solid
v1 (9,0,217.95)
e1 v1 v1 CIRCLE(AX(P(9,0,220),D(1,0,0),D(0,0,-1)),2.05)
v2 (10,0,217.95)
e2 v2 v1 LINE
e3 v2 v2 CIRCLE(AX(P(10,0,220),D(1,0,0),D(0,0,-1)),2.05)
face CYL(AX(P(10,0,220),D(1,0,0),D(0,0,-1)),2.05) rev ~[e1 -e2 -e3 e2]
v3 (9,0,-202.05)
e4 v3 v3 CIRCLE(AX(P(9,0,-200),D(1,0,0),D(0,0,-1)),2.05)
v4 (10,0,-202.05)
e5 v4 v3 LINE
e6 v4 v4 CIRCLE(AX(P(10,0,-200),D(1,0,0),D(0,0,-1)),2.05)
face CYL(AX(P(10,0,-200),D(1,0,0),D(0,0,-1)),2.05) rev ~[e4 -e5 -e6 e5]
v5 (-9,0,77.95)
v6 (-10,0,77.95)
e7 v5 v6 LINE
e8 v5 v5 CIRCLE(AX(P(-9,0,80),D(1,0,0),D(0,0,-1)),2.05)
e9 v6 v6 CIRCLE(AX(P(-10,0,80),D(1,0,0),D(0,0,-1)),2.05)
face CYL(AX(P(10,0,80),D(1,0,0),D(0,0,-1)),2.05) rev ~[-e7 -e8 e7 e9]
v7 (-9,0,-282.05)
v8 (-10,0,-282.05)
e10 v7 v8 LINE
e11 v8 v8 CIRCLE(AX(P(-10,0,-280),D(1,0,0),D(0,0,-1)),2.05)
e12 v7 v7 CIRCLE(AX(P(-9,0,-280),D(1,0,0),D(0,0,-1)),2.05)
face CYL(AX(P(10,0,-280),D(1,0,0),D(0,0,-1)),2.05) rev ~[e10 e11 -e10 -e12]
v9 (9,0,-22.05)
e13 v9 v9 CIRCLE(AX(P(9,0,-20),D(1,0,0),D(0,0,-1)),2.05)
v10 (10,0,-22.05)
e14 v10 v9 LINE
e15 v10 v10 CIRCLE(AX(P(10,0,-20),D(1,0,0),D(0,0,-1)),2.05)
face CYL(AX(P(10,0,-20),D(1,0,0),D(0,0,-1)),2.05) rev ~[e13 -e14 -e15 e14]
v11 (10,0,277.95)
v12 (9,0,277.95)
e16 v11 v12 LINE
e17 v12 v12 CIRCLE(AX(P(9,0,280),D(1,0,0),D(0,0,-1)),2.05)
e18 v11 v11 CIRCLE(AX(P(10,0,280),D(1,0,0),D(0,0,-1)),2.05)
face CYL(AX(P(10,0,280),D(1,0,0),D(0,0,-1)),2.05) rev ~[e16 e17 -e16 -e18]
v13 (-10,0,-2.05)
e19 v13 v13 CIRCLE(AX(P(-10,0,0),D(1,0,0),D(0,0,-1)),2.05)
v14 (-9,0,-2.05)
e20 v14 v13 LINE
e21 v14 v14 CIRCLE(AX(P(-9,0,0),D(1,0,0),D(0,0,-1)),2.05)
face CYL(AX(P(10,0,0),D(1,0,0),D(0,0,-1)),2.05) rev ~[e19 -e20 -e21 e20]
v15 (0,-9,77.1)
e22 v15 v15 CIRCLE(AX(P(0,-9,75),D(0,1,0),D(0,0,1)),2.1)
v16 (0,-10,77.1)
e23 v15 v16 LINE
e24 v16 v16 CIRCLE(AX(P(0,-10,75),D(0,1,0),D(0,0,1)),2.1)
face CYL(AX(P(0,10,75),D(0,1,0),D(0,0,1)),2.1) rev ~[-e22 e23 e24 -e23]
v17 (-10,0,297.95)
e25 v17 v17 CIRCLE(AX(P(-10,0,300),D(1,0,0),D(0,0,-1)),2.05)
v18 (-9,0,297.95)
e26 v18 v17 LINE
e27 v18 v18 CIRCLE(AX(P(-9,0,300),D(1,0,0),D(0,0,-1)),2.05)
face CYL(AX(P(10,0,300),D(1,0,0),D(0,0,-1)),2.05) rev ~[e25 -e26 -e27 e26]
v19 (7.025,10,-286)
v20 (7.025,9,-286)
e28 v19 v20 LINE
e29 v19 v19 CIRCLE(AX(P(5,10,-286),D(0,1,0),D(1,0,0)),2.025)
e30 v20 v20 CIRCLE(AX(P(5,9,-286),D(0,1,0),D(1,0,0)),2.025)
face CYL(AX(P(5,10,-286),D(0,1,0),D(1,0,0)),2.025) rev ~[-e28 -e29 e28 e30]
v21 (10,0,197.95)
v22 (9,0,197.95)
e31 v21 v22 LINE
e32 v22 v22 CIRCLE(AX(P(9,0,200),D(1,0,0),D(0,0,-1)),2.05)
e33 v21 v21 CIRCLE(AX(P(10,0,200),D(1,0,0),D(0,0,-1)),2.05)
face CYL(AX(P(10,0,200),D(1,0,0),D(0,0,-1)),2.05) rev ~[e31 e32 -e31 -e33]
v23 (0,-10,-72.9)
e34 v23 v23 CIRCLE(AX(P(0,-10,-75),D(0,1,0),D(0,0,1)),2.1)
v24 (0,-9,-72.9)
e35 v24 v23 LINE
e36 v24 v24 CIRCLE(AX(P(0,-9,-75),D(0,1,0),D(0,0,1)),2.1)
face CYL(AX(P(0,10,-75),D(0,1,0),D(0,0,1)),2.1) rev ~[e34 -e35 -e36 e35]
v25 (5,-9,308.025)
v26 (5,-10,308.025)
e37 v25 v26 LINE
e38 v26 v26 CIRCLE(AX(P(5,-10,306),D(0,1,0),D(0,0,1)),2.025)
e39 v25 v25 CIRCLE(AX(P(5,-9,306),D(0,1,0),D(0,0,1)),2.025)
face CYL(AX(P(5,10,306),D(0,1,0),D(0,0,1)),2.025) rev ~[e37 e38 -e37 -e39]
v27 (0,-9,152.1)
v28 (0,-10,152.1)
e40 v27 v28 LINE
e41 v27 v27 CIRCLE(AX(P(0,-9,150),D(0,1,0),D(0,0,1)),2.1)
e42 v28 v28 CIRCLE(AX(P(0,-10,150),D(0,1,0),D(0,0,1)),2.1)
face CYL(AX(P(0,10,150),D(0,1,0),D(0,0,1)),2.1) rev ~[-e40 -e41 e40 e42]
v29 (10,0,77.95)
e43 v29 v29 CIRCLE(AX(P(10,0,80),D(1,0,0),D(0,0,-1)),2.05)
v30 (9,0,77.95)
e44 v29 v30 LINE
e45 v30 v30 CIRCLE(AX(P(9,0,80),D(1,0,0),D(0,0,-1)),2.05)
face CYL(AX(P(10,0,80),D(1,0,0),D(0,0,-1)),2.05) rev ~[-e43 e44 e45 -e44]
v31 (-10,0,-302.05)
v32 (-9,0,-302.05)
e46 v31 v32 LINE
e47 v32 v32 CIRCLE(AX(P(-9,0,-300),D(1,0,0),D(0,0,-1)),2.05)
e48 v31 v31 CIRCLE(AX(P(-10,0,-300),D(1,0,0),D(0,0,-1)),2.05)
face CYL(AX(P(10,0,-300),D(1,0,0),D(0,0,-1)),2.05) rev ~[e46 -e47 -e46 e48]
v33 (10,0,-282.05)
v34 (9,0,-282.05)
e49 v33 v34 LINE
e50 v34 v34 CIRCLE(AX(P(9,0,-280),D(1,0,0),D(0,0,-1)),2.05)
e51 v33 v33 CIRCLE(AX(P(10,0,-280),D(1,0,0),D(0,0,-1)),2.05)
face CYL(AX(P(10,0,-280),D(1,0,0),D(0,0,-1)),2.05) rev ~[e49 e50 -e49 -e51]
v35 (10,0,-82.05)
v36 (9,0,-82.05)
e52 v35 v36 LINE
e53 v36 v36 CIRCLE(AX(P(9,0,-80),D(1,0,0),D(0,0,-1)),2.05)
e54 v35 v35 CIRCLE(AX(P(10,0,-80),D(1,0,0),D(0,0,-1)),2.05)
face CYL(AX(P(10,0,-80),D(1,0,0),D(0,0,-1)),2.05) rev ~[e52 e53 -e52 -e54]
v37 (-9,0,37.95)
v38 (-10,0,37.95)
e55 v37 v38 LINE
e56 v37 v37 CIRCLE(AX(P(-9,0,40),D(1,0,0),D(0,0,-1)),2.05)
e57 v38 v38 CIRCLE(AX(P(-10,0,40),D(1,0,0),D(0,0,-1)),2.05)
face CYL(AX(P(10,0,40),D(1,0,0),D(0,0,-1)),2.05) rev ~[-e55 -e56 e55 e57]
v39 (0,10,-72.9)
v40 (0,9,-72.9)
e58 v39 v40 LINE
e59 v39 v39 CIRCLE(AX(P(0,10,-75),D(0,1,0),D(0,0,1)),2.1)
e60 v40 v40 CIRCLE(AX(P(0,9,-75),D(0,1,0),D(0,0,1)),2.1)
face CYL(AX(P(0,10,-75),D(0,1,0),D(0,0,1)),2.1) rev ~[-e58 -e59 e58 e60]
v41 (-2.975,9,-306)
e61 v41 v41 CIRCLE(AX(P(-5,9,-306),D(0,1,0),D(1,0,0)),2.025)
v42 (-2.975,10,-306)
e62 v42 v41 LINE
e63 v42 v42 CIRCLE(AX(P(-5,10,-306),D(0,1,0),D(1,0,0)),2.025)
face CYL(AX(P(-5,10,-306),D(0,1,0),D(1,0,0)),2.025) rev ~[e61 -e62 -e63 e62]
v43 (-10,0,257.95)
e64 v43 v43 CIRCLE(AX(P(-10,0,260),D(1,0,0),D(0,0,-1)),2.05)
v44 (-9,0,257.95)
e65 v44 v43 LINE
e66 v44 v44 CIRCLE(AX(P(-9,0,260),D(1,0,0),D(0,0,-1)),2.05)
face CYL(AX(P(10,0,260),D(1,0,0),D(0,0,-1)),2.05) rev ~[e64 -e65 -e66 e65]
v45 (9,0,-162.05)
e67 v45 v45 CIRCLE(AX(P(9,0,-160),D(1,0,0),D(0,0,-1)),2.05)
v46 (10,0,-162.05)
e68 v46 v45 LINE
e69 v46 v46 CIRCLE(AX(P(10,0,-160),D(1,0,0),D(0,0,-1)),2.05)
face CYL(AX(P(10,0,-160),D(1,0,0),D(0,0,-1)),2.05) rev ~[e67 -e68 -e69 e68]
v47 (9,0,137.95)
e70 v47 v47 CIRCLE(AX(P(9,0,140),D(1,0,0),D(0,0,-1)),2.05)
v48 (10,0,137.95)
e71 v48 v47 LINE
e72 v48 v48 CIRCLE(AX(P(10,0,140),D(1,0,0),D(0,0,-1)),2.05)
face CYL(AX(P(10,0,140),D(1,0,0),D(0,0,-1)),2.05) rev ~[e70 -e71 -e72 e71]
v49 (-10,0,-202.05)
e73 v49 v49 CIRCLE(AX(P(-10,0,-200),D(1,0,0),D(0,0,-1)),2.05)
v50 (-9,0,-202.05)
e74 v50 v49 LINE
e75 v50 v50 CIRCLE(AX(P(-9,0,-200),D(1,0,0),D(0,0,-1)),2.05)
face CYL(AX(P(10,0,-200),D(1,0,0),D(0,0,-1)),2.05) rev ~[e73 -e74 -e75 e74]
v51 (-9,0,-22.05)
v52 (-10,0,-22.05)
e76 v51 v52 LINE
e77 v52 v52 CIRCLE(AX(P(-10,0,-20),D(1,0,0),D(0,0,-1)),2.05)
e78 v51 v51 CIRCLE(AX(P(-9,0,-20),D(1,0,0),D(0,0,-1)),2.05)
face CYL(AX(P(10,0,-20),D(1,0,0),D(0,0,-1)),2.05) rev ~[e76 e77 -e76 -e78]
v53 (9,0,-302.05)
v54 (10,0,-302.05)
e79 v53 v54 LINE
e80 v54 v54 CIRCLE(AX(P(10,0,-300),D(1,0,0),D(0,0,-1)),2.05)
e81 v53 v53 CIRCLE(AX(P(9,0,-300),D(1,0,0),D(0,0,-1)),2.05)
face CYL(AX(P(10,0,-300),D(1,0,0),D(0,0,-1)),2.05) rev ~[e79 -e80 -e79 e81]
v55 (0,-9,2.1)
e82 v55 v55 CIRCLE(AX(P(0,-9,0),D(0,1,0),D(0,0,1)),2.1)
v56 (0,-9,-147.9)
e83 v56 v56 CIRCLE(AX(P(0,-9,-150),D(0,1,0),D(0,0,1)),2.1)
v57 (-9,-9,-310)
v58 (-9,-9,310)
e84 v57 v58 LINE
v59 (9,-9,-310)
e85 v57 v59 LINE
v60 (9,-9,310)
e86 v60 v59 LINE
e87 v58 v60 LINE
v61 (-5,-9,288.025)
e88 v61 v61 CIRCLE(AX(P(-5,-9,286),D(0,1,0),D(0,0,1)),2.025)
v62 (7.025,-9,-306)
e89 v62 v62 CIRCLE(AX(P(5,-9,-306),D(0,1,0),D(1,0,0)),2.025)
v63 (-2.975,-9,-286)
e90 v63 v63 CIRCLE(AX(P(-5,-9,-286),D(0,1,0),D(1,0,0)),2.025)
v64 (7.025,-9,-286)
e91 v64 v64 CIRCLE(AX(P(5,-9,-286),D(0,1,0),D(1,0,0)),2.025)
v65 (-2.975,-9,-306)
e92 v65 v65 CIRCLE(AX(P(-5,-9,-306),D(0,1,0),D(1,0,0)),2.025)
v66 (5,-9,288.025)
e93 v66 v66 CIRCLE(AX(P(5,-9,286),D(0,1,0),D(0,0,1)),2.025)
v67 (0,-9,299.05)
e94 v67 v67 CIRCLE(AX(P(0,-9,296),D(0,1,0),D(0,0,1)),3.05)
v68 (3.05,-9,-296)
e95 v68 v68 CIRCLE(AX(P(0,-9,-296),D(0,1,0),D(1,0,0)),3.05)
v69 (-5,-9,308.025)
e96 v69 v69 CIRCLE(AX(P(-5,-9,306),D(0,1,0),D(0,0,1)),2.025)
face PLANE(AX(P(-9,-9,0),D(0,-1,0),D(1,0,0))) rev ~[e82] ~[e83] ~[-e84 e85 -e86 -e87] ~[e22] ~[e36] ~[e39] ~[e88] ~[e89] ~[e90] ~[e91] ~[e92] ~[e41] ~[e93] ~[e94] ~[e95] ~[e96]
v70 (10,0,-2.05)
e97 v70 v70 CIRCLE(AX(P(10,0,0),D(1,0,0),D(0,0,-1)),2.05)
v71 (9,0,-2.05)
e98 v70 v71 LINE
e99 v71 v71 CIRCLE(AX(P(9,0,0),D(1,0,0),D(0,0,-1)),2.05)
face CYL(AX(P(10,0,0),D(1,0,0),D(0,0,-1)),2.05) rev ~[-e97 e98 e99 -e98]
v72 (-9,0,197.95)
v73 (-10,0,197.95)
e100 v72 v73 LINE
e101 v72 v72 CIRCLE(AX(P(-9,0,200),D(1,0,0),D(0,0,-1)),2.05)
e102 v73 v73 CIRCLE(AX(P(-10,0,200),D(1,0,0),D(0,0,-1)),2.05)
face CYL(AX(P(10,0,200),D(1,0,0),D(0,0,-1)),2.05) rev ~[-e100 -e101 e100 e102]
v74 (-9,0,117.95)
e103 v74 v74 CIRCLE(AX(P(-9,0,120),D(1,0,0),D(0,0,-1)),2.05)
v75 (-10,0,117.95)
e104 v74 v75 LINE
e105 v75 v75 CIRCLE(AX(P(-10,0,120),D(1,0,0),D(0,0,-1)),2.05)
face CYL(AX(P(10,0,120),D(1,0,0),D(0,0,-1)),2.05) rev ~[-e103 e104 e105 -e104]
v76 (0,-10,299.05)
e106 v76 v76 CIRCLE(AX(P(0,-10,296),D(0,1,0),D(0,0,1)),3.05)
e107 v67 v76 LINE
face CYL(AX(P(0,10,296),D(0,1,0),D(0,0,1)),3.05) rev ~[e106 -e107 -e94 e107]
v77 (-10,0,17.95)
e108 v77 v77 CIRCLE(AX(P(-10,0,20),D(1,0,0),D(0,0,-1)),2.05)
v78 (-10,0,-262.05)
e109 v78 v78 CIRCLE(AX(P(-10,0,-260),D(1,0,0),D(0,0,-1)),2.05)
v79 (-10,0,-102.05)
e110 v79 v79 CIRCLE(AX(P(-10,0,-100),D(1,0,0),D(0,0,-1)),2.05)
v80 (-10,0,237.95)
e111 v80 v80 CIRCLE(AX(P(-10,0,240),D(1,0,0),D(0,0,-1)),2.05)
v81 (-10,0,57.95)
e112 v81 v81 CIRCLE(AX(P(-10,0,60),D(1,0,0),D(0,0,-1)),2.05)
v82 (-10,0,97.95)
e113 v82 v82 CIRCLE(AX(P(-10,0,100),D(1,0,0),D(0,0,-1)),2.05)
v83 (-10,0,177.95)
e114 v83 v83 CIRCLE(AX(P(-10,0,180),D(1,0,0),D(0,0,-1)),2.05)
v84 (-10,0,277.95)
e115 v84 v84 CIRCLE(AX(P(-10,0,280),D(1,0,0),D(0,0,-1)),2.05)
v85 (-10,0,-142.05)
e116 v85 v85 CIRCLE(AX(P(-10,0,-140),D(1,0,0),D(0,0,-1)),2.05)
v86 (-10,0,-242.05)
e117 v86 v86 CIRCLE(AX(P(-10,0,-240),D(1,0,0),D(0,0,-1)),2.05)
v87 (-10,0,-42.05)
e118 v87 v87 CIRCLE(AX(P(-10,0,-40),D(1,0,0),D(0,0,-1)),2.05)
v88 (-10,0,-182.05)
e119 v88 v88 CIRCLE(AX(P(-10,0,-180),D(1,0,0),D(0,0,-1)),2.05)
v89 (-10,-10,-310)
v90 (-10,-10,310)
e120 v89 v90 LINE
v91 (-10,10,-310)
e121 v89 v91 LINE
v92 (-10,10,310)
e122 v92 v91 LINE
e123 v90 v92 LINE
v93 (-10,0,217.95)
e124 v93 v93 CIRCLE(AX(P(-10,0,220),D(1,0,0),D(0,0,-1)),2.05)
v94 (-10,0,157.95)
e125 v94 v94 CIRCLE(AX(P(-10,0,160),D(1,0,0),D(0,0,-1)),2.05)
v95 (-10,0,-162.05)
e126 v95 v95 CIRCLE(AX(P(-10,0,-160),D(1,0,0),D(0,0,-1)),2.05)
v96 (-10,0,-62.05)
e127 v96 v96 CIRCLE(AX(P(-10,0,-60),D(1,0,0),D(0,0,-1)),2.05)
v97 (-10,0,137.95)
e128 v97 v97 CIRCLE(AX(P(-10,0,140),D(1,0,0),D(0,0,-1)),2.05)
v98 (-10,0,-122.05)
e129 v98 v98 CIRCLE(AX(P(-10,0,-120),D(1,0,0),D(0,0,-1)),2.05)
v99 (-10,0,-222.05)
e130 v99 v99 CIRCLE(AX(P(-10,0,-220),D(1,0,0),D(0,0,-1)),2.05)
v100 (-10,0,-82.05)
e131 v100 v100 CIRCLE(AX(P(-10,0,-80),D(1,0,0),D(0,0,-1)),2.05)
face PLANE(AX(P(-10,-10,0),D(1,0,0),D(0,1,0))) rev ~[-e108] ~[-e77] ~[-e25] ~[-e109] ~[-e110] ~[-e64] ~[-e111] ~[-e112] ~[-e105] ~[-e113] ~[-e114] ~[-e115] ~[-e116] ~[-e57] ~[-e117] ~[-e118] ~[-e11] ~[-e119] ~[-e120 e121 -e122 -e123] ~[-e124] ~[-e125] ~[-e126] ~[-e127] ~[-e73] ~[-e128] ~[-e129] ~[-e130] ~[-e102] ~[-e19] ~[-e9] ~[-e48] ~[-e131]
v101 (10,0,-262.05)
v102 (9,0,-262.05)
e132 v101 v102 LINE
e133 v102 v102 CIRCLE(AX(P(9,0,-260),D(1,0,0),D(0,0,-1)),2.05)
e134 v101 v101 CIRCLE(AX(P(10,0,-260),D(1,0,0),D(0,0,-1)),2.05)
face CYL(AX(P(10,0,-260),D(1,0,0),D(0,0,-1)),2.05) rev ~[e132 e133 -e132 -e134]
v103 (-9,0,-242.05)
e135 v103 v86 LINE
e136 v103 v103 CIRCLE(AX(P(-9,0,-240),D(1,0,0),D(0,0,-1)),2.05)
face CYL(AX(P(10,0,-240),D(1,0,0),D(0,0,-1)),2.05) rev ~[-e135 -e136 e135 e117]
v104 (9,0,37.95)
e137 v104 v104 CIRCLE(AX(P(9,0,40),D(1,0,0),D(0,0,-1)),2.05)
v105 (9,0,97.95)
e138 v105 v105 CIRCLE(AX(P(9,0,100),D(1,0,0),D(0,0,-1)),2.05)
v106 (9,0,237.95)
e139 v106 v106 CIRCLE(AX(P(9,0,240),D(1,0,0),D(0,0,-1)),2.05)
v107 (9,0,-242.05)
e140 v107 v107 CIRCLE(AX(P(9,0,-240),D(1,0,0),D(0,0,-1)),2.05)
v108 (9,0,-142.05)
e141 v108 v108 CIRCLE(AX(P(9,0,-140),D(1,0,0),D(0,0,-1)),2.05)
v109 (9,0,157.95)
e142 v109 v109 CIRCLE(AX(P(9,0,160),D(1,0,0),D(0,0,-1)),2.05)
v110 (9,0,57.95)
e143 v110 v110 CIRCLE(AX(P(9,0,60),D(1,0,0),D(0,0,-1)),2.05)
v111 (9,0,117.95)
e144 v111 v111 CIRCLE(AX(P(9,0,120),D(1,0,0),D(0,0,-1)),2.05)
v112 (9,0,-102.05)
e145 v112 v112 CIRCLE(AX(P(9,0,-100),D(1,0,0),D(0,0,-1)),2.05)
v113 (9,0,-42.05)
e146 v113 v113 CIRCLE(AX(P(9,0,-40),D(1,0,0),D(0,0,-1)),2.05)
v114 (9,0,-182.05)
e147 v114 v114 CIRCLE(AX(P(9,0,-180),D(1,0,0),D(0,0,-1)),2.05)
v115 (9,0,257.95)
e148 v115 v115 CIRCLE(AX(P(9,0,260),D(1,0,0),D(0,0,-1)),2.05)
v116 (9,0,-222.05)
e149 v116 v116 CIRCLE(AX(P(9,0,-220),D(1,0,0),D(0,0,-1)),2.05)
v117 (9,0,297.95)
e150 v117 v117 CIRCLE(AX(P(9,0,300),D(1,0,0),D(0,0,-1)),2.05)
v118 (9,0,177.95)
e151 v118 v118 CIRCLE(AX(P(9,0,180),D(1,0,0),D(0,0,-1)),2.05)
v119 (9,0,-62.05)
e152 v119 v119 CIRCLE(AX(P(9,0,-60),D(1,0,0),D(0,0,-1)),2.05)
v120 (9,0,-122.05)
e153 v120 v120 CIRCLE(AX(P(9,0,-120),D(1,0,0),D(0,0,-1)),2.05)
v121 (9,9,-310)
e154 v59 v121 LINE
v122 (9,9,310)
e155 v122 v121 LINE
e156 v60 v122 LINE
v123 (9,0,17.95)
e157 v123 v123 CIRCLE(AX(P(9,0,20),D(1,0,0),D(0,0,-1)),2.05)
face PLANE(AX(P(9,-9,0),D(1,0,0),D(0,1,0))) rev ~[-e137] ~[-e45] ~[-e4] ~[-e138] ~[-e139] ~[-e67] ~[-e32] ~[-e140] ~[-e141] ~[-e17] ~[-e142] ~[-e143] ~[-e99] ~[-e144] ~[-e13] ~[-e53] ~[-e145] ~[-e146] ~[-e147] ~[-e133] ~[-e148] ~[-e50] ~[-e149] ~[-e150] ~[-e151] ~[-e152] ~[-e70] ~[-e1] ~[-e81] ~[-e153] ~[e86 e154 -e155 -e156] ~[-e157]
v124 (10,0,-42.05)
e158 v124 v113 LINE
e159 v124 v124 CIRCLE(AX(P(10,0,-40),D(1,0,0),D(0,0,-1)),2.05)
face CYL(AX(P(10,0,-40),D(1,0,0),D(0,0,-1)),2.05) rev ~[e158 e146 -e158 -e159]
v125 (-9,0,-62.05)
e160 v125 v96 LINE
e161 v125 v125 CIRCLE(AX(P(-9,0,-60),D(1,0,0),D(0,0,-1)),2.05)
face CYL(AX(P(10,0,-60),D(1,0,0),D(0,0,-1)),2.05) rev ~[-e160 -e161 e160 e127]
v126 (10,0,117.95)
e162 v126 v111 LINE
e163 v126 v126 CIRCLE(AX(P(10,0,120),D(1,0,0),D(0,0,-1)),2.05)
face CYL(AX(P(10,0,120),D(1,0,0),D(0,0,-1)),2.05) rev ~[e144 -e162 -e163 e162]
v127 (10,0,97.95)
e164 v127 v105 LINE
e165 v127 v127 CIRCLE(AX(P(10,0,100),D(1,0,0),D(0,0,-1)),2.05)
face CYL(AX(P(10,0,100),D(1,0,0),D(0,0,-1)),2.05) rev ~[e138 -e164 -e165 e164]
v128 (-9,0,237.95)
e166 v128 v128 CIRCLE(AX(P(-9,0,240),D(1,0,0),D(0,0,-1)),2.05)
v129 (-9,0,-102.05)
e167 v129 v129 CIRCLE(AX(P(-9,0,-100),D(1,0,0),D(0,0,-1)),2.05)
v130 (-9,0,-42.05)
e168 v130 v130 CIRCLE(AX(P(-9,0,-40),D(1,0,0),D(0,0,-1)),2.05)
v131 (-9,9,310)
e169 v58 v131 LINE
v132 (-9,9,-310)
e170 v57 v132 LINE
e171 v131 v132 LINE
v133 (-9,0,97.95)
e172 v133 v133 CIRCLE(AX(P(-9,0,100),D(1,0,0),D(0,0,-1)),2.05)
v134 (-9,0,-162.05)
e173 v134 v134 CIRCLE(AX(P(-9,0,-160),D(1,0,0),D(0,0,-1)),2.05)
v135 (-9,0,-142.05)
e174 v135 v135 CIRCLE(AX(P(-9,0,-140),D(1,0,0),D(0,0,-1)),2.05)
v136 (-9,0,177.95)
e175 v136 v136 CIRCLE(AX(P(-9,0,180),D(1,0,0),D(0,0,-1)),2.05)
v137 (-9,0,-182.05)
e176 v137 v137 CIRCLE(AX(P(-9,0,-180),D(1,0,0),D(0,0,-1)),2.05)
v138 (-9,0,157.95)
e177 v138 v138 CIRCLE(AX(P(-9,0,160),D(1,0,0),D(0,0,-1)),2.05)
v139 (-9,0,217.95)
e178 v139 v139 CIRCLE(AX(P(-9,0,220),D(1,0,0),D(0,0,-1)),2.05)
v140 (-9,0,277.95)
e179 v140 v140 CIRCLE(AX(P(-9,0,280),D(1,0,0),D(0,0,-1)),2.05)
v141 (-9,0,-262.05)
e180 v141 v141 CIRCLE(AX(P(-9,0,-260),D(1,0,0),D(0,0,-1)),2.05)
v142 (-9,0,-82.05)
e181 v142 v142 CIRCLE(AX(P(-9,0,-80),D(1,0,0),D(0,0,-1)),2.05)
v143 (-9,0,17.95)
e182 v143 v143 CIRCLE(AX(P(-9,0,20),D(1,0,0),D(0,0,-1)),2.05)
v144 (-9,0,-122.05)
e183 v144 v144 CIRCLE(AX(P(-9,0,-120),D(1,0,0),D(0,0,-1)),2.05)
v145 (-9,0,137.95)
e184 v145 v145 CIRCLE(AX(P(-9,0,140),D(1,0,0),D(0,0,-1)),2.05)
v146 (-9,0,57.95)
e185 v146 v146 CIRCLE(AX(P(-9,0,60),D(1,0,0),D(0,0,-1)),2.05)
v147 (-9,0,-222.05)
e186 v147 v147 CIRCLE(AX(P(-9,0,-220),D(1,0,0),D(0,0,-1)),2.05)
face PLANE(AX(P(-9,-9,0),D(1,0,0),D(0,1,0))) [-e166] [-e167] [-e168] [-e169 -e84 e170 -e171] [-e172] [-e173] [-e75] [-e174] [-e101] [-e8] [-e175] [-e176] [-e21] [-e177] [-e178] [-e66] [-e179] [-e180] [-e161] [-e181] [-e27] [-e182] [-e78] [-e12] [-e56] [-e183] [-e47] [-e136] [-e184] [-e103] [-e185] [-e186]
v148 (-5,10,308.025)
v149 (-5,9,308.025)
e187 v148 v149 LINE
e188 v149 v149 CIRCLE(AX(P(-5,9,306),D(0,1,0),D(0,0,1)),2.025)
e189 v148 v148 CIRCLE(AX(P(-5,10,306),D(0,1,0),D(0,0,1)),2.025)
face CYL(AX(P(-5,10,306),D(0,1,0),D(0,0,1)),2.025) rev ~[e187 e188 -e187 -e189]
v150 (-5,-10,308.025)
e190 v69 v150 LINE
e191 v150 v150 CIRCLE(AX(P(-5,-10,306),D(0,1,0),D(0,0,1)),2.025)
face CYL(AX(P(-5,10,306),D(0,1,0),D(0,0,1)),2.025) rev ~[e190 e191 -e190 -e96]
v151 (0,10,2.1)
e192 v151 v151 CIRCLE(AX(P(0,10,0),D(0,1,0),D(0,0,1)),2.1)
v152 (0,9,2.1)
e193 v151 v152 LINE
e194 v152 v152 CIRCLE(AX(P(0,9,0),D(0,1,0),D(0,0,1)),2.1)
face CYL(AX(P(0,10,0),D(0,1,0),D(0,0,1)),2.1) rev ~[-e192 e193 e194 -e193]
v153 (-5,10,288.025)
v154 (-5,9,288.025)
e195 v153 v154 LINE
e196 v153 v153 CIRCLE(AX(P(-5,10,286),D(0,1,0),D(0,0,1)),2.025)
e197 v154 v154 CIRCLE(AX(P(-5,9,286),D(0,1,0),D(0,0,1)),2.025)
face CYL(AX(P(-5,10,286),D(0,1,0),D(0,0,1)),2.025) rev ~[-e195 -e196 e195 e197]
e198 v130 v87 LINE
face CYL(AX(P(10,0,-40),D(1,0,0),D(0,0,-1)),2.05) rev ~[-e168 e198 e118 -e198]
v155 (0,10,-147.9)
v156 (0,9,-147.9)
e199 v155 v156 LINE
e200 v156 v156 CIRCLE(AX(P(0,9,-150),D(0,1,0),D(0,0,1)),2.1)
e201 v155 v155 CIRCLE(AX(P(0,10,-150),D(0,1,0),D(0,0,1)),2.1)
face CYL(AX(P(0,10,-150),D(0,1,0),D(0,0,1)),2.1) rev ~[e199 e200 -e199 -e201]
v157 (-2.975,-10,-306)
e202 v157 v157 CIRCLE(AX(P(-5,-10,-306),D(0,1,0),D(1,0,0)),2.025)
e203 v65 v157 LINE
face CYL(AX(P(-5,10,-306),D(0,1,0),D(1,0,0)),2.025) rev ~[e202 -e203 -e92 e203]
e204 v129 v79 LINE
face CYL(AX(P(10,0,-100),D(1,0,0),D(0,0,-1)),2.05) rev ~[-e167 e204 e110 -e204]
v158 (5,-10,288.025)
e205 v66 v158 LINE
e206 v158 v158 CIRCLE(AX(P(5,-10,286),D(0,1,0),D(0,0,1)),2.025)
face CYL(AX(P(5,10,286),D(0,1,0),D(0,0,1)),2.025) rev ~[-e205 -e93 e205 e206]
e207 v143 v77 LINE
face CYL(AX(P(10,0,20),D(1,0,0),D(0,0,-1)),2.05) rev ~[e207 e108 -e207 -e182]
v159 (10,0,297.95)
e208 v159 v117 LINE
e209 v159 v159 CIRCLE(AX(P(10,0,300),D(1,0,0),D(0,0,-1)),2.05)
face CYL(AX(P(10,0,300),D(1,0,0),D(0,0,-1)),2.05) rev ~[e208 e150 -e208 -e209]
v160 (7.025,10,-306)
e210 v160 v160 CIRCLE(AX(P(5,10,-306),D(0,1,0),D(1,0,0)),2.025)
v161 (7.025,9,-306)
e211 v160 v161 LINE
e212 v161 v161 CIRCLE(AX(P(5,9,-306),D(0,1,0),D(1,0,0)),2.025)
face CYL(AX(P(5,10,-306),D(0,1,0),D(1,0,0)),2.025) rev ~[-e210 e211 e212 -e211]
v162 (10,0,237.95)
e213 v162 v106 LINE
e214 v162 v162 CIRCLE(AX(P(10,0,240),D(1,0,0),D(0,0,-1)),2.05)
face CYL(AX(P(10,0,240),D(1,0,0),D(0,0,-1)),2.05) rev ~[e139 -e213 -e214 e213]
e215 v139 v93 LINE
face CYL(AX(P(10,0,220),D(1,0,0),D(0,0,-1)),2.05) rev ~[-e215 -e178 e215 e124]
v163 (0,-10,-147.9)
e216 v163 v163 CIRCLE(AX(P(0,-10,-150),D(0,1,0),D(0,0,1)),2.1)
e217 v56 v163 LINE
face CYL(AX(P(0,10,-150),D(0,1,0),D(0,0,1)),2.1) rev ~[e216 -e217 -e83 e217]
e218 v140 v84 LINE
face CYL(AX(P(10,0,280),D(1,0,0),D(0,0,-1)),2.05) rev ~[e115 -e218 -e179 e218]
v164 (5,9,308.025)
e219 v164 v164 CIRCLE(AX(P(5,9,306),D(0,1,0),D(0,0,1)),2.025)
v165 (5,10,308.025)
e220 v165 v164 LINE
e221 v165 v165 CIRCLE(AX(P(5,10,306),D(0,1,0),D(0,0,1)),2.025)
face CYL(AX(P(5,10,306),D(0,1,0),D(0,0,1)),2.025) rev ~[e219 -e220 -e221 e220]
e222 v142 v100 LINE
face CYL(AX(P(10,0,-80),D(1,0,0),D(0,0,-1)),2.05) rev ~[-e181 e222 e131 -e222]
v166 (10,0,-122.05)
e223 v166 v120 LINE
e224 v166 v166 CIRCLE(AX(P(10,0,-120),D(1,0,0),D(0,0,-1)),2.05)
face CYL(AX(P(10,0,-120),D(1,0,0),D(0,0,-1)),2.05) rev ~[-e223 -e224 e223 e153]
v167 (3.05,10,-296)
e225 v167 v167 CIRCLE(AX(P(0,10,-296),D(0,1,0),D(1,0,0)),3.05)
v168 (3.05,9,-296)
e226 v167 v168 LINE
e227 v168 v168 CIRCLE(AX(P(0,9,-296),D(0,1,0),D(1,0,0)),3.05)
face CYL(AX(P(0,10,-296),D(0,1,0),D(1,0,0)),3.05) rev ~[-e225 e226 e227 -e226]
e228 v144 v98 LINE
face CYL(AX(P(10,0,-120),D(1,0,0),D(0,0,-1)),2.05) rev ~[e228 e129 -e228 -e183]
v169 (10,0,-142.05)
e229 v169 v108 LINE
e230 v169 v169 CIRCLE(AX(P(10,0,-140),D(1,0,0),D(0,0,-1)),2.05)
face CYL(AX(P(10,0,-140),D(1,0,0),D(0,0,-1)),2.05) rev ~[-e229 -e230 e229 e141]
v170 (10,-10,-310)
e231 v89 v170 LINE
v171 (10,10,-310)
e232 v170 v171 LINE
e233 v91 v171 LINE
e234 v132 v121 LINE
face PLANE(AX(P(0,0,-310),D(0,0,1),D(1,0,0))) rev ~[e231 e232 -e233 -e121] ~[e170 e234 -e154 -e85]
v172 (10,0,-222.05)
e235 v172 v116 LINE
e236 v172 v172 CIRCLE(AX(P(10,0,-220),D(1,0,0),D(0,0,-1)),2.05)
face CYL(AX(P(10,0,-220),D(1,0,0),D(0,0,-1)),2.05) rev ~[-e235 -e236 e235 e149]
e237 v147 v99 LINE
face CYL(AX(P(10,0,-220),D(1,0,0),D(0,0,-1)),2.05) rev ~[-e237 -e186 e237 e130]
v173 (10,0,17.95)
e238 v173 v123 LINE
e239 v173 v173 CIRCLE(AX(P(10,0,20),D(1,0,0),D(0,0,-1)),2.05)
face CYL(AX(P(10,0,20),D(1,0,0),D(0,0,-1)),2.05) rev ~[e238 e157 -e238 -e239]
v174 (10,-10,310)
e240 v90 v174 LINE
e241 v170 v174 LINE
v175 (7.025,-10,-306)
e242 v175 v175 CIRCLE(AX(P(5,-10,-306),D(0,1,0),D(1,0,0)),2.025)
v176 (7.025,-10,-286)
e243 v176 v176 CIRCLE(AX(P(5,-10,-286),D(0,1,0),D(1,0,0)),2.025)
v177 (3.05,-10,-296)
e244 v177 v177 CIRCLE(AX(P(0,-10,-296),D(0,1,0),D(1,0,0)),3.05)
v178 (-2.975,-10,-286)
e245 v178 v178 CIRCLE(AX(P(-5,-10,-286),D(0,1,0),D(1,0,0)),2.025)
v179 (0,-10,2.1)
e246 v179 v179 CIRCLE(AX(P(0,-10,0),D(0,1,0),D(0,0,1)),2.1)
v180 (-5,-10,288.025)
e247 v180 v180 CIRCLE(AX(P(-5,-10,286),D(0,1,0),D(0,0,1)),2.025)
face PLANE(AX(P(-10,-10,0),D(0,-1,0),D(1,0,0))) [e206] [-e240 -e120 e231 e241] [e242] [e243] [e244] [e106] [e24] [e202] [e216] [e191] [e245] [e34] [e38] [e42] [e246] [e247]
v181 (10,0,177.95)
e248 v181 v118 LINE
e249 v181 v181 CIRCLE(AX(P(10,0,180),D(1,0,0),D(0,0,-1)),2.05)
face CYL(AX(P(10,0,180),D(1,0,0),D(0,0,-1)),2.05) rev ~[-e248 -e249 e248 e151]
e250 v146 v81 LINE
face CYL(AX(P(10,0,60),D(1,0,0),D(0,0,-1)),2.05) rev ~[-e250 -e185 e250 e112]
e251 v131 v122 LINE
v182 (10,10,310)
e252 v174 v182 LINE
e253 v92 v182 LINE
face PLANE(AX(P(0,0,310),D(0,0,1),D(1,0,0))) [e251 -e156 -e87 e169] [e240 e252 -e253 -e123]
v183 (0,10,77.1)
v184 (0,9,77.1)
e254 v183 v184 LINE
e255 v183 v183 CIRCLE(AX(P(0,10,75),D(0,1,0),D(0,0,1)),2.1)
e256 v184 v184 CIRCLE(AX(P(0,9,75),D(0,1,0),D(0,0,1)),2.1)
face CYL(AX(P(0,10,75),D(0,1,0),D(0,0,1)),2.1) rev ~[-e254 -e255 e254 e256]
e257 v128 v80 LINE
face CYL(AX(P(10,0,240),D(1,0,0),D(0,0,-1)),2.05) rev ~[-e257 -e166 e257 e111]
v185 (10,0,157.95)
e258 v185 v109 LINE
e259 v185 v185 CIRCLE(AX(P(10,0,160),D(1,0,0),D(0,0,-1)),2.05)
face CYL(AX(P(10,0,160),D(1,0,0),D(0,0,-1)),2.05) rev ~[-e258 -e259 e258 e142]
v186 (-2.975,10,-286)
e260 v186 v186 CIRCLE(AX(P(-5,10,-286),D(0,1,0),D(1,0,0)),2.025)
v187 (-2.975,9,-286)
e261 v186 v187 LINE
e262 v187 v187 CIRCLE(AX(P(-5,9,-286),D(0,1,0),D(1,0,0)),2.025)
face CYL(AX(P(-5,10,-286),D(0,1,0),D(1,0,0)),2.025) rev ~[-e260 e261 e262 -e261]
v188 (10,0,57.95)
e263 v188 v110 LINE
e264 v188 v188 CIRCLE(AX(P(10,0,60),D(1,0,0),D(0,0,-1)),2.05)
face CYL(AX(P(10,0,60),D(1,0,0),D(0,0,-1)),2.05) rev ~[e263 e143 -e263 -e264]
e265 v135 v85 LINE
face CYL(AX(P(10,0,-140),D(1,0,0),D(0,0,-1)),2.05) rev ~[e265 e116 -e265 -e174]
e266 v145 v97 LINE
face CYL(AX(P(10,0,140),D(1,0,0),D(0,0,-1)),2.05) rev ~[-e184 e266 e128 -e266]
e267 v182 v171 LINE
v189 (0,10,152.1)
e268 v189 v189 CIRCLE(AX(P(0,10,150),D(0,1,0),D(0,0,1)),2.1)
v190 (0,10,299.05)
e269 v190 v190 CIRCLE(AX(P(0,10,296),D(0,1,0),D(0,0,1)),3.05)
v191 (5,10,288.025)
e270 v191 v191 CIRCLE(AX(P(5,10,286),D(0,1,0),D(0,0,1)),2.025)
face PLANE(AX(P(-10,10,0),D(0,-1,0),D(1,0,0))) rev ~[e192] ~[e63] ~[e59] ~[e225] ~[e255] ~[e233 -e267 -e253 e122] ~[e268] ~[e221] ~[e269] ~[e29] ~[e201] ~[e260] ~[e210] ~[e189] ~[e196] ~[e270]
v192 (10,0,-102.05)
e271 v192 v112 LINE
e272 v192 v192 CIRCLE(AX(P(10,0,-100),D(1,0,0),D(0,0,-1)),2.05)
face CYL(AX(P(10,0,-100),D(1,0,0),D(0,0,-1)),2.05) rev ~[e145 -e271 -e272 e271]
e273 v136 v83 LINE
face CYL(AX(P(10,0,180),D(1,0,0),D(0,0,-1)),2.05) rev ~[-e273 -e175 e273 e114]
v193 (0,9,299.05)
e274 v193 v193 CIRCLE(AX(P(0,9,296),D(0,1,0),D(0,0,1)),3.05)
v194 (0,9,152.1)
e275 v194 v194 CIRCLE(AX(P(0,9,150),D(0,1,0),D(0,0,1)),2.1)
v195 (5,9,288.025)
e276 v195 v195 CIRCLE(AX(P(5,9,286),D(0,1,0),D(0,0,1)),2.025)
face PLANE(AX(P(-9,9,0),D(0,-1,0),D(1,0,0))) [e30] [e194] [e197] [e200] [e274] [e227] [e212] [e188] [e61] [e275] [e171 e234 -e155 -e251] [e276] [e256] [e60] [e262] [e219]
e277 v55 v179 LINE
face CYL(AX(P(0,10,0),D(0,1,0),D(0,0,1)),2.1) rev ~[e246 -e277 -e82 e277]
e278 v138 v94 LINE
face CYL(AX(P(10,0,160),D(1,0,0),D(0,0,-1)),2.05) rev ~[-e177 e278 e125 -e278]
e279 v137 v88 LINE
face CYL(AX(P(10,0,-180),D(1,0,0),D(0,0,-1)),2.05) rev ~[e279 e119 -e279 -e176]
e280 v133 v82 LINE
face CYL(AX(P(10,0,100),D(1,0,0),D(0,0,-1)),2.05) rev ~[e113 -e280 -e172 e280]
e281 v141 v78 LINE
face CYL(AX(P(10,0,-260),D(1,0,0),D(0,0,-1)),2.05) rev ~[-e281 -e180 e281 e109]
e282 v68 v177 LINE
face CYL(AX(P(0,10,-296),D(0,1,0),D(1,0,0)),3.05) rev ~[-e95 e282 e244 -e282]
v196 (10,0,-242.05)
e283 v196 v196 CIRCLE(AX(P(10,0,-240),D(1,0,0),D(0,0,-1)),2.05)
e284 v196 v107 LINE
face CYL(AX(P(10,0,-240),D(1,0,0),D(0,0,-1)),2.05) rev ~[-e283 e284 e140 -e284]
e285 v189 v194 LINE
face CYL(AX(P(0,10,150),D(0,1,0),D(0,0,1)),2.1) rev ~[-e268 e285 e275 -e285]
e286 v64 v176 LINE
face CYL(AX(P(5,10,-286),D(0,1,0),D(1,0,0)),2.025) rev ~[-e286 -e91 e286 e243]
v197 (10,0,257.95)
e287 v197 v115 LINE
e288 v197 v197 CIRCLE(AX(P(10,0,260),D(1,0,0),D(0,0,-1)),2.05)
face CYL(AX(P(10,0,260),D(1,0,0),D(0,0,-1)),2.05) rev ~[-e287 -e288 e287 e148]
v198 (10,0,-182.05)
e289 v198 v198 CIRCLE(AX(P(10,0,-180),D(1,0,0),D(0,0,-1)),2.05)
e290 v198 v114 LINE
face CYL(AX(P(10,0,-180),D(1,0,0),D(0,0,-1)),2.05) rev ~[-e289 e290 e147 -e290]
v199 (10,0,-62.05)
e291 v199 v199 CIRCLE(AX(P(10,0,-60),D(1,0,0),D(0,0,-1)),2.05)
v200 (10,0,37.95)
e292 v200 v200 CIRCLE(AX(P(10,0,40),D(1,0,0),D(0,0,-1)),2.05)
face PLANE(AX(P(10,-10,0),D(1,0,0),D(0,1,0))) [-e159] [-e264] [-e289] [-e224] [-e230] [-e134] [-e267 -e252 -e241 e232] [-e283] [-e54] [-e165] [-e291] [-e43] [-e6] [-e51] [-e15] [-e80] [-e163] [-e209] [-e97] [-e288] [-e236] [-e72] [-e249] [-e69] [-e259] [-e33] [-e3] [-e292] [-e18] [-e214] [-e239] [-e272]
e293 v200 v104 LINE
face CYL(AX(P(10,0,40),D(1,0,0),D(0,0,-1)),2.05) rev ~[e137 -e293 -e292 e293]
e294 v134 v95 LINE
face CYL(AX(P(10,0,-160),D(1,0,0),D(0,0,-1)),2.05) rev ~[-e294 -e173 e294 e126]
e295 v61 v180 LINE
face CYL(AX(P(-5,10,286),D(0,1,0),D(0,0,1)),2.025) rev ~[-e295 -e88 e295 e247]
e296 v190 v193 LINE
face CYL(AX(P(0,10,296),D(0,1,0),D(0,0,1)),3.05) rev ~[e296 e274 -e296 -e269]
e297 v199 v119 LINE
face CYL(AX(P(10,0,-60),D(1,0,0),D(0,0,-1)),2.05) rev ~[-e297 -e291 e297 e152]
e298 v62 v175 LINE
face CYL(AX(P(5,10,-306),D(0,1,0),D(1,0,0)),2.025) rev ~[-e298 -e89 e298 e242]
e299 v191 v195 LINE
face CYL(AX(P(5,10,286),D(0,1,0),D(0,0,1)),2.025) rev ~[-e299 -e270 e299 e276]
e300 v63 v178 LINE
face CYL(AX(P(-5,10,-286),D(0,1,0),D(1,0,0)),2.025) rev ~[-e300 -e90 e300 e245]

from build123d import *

# Parameters (mm, degrees)
SKETCH_1_W          = 20
SKETCH_1_H          = 20
SKETCH_1_W_2        = 18
SKETCH_1_H_2        = 18
EXTRUDE_1_DEPTH     = 310
SKETCH_2_R          = 2.025
SKETCH_2_R_2        = 3.05
CUT_EXTRUDE_1_DEPTH = 30
SKETCH_3_R          = 2.1
CUT_EXTRUDE_2_DEPTH = 30
SKETCH_4_R          = 2.05
CUT_EXTRUDE_3_DEPTH = 20


with BuildPart() as part:
    # 草图1 → 凸台-拉伸1 (new, symmetric)
    with BuildSketch(Plane.XY):
        Rectangle(SKETCH_1_W, SKETCH_1_H)
        Rectangle(SKETCH_1_W_2, SKETCH_1_H_2, mode=Mode.SUBTRACT)
    extrude(amount=EXTRUDE_1_DEPTH, both=True)

    # 草图2 → 切除-拉伸1 (cut)
    with BuildSketch(Plane(origin=(0, 10, 0), x_dir=(1, 0, 0), z_dir=(0, 1, 0))):
        with Locations(Location((-5, -286, 0), (0, 0, 270))):
            Circle(SKETCH_2_R)
        with Locations(Location((5, -286, 0), (0, 0, 270))):
            Circle(SKETCH_2_R)
        with Locations(Location((-5, -306, 0), (0, 0, 270))):
            Circle(SKETCH_2_R)
        with Locations(Location((5, -306, 0), (0, 0, 270))):
            Circle(SKETCH_2_R)
        with Locations(Location((0, -296, 0), (0, 0, 270))):
            Circle(SKETCH_2_R_2)
        with Locations((5, 306)):
            Circle(SKETCH_2_R)
        with Locations((5, 286)):
            Circle(SKETCH_2_R)
        with Locations((-5, 286)):
            Circle(SKETCH_2_R)
        with Locations((0, 296)):
            Circle(SKETCH_2_R_2)
        with Locations((-5, 306)):
            Circle(SKETCH_2_R)
    extrude(amount=-CUT_EXTRUDE_1_DEPTH, mode=Mode.SUBTRACT)

    # 草图3 → 切除-拉伸2 (cut)
    with BuildSketch(Plane(origin=(0, 10, 0), x_dir=(1, 0, 0), z_dir=(0, 1, 0))):
        with Locations(Location((0, 150, 0), (0, 0, 270))):
            Circle(SKETCH_3_R)
        with Locations(Location((0, 75, 0), (0, 0, 270))):
            Circle(SKETCH_3_R)
        with Locations(Location((0, 0, 0), (0, 0, 270))):
            Circle(SKETCH_3_R)
        with Locations(Location((0, -75, 0), (0, 0, 270))):
            Circle(SKETCH_3_R)
        with Locations(Location((0, -150, 0), (0, 0, 270))):
            Circle(SKETCH_3_R)
    extrude(amount=-CUT_EXTRUDE_2_DEPTH, mode=Mode.SUBTRACT)

    # 草图4 → 切除-拉伸3 (cut, symmetric)
    with BuildSketch(Plane(origin=(10, 0, 0), x_dir=(0, 0, -1), z_dir=(1, 0, 0))):
        with Locations((-300, 0)):
            Circle(SKETCH_4_R)
        with Locations((-280, 0)):
            Circle(SKETCH_4_R)
        with Locations((-260, 0)):
            Circle(SKETCH_4_R)
        with Locations((-240, 0)):
            Circle(SKETCH_4_R)
        with Locations((-220, 0)):
            Circle(SKETCH_4_R)
        with Locations((-200, 0)):
            Circle(SKETCH_4_R)
        with Locations((-180, 0)):
            Circle(SKETCH_4_R)
        with Locations((-160, 0)):
            Circle(SKETCH_4_R)
        with Locations((-140, 0)):
            Circle(SKETCH_4_R)
        with Locations((-120, 0)):
            Circle(SKETCH_4_R)
        with Locations((-100, 0)):
            Circle(SKETCH_4_R)
        with Locations((-80, 0)):
            Circle(SKETCH_4_R)
        with Locations((-60, 0)):
            Circle(SKETCH_4_R)
        with Locations((-40, 0)):
            Circle(SKETCH_4_R)
        with Locations((-20, 0)):
            Circle(SKETCH_4_R)
        Circle(SKETCH_4_R)
        with Locations((20, 0)):
            Circle(SKETCH_4_R)
        with Locations((40, 0)):
            Circle(SKETCH_4_R)
        with Locations((60, 0)):
            Circle(SKETCH_4_R)
        with Locations((80, 0)):
            Circle(SKETCH_4_R)
        with Locations((100, 0)):
            Circle(SKETCH_4_R)
        with Locations((120, 0)):
            Circle(SKETCH_4_R)
        with Locations((140, 0)):
            Circle(SKETCH_4_R)
        with Locations((160, 0)):
            Circle(SKETCH_4_R)
        with Locations((180, 0)):
            Circle(SKETCH_4_R)
        with Locations((200, 0)):
            Circle(SKETCH_4_R)
        with Locations((220, 0)):
            Circle(SKETCH_4_R)
        with Locations((240, 0)):
            Circle(SKETCH_4_R)
        with Locations((260, 0)):
            Circle(SKETCH_4_R)
        with Locations((280, 0)):
            Circle(SKETCH_4_R)
        with Locations((300, 0)):
            Circle(SKETCH_4_R)
    extrude(amount=CUT_EXTRUDE_3_DEPTH, both=True, mode=Mode.SUBTRACT)


solid = part.part
